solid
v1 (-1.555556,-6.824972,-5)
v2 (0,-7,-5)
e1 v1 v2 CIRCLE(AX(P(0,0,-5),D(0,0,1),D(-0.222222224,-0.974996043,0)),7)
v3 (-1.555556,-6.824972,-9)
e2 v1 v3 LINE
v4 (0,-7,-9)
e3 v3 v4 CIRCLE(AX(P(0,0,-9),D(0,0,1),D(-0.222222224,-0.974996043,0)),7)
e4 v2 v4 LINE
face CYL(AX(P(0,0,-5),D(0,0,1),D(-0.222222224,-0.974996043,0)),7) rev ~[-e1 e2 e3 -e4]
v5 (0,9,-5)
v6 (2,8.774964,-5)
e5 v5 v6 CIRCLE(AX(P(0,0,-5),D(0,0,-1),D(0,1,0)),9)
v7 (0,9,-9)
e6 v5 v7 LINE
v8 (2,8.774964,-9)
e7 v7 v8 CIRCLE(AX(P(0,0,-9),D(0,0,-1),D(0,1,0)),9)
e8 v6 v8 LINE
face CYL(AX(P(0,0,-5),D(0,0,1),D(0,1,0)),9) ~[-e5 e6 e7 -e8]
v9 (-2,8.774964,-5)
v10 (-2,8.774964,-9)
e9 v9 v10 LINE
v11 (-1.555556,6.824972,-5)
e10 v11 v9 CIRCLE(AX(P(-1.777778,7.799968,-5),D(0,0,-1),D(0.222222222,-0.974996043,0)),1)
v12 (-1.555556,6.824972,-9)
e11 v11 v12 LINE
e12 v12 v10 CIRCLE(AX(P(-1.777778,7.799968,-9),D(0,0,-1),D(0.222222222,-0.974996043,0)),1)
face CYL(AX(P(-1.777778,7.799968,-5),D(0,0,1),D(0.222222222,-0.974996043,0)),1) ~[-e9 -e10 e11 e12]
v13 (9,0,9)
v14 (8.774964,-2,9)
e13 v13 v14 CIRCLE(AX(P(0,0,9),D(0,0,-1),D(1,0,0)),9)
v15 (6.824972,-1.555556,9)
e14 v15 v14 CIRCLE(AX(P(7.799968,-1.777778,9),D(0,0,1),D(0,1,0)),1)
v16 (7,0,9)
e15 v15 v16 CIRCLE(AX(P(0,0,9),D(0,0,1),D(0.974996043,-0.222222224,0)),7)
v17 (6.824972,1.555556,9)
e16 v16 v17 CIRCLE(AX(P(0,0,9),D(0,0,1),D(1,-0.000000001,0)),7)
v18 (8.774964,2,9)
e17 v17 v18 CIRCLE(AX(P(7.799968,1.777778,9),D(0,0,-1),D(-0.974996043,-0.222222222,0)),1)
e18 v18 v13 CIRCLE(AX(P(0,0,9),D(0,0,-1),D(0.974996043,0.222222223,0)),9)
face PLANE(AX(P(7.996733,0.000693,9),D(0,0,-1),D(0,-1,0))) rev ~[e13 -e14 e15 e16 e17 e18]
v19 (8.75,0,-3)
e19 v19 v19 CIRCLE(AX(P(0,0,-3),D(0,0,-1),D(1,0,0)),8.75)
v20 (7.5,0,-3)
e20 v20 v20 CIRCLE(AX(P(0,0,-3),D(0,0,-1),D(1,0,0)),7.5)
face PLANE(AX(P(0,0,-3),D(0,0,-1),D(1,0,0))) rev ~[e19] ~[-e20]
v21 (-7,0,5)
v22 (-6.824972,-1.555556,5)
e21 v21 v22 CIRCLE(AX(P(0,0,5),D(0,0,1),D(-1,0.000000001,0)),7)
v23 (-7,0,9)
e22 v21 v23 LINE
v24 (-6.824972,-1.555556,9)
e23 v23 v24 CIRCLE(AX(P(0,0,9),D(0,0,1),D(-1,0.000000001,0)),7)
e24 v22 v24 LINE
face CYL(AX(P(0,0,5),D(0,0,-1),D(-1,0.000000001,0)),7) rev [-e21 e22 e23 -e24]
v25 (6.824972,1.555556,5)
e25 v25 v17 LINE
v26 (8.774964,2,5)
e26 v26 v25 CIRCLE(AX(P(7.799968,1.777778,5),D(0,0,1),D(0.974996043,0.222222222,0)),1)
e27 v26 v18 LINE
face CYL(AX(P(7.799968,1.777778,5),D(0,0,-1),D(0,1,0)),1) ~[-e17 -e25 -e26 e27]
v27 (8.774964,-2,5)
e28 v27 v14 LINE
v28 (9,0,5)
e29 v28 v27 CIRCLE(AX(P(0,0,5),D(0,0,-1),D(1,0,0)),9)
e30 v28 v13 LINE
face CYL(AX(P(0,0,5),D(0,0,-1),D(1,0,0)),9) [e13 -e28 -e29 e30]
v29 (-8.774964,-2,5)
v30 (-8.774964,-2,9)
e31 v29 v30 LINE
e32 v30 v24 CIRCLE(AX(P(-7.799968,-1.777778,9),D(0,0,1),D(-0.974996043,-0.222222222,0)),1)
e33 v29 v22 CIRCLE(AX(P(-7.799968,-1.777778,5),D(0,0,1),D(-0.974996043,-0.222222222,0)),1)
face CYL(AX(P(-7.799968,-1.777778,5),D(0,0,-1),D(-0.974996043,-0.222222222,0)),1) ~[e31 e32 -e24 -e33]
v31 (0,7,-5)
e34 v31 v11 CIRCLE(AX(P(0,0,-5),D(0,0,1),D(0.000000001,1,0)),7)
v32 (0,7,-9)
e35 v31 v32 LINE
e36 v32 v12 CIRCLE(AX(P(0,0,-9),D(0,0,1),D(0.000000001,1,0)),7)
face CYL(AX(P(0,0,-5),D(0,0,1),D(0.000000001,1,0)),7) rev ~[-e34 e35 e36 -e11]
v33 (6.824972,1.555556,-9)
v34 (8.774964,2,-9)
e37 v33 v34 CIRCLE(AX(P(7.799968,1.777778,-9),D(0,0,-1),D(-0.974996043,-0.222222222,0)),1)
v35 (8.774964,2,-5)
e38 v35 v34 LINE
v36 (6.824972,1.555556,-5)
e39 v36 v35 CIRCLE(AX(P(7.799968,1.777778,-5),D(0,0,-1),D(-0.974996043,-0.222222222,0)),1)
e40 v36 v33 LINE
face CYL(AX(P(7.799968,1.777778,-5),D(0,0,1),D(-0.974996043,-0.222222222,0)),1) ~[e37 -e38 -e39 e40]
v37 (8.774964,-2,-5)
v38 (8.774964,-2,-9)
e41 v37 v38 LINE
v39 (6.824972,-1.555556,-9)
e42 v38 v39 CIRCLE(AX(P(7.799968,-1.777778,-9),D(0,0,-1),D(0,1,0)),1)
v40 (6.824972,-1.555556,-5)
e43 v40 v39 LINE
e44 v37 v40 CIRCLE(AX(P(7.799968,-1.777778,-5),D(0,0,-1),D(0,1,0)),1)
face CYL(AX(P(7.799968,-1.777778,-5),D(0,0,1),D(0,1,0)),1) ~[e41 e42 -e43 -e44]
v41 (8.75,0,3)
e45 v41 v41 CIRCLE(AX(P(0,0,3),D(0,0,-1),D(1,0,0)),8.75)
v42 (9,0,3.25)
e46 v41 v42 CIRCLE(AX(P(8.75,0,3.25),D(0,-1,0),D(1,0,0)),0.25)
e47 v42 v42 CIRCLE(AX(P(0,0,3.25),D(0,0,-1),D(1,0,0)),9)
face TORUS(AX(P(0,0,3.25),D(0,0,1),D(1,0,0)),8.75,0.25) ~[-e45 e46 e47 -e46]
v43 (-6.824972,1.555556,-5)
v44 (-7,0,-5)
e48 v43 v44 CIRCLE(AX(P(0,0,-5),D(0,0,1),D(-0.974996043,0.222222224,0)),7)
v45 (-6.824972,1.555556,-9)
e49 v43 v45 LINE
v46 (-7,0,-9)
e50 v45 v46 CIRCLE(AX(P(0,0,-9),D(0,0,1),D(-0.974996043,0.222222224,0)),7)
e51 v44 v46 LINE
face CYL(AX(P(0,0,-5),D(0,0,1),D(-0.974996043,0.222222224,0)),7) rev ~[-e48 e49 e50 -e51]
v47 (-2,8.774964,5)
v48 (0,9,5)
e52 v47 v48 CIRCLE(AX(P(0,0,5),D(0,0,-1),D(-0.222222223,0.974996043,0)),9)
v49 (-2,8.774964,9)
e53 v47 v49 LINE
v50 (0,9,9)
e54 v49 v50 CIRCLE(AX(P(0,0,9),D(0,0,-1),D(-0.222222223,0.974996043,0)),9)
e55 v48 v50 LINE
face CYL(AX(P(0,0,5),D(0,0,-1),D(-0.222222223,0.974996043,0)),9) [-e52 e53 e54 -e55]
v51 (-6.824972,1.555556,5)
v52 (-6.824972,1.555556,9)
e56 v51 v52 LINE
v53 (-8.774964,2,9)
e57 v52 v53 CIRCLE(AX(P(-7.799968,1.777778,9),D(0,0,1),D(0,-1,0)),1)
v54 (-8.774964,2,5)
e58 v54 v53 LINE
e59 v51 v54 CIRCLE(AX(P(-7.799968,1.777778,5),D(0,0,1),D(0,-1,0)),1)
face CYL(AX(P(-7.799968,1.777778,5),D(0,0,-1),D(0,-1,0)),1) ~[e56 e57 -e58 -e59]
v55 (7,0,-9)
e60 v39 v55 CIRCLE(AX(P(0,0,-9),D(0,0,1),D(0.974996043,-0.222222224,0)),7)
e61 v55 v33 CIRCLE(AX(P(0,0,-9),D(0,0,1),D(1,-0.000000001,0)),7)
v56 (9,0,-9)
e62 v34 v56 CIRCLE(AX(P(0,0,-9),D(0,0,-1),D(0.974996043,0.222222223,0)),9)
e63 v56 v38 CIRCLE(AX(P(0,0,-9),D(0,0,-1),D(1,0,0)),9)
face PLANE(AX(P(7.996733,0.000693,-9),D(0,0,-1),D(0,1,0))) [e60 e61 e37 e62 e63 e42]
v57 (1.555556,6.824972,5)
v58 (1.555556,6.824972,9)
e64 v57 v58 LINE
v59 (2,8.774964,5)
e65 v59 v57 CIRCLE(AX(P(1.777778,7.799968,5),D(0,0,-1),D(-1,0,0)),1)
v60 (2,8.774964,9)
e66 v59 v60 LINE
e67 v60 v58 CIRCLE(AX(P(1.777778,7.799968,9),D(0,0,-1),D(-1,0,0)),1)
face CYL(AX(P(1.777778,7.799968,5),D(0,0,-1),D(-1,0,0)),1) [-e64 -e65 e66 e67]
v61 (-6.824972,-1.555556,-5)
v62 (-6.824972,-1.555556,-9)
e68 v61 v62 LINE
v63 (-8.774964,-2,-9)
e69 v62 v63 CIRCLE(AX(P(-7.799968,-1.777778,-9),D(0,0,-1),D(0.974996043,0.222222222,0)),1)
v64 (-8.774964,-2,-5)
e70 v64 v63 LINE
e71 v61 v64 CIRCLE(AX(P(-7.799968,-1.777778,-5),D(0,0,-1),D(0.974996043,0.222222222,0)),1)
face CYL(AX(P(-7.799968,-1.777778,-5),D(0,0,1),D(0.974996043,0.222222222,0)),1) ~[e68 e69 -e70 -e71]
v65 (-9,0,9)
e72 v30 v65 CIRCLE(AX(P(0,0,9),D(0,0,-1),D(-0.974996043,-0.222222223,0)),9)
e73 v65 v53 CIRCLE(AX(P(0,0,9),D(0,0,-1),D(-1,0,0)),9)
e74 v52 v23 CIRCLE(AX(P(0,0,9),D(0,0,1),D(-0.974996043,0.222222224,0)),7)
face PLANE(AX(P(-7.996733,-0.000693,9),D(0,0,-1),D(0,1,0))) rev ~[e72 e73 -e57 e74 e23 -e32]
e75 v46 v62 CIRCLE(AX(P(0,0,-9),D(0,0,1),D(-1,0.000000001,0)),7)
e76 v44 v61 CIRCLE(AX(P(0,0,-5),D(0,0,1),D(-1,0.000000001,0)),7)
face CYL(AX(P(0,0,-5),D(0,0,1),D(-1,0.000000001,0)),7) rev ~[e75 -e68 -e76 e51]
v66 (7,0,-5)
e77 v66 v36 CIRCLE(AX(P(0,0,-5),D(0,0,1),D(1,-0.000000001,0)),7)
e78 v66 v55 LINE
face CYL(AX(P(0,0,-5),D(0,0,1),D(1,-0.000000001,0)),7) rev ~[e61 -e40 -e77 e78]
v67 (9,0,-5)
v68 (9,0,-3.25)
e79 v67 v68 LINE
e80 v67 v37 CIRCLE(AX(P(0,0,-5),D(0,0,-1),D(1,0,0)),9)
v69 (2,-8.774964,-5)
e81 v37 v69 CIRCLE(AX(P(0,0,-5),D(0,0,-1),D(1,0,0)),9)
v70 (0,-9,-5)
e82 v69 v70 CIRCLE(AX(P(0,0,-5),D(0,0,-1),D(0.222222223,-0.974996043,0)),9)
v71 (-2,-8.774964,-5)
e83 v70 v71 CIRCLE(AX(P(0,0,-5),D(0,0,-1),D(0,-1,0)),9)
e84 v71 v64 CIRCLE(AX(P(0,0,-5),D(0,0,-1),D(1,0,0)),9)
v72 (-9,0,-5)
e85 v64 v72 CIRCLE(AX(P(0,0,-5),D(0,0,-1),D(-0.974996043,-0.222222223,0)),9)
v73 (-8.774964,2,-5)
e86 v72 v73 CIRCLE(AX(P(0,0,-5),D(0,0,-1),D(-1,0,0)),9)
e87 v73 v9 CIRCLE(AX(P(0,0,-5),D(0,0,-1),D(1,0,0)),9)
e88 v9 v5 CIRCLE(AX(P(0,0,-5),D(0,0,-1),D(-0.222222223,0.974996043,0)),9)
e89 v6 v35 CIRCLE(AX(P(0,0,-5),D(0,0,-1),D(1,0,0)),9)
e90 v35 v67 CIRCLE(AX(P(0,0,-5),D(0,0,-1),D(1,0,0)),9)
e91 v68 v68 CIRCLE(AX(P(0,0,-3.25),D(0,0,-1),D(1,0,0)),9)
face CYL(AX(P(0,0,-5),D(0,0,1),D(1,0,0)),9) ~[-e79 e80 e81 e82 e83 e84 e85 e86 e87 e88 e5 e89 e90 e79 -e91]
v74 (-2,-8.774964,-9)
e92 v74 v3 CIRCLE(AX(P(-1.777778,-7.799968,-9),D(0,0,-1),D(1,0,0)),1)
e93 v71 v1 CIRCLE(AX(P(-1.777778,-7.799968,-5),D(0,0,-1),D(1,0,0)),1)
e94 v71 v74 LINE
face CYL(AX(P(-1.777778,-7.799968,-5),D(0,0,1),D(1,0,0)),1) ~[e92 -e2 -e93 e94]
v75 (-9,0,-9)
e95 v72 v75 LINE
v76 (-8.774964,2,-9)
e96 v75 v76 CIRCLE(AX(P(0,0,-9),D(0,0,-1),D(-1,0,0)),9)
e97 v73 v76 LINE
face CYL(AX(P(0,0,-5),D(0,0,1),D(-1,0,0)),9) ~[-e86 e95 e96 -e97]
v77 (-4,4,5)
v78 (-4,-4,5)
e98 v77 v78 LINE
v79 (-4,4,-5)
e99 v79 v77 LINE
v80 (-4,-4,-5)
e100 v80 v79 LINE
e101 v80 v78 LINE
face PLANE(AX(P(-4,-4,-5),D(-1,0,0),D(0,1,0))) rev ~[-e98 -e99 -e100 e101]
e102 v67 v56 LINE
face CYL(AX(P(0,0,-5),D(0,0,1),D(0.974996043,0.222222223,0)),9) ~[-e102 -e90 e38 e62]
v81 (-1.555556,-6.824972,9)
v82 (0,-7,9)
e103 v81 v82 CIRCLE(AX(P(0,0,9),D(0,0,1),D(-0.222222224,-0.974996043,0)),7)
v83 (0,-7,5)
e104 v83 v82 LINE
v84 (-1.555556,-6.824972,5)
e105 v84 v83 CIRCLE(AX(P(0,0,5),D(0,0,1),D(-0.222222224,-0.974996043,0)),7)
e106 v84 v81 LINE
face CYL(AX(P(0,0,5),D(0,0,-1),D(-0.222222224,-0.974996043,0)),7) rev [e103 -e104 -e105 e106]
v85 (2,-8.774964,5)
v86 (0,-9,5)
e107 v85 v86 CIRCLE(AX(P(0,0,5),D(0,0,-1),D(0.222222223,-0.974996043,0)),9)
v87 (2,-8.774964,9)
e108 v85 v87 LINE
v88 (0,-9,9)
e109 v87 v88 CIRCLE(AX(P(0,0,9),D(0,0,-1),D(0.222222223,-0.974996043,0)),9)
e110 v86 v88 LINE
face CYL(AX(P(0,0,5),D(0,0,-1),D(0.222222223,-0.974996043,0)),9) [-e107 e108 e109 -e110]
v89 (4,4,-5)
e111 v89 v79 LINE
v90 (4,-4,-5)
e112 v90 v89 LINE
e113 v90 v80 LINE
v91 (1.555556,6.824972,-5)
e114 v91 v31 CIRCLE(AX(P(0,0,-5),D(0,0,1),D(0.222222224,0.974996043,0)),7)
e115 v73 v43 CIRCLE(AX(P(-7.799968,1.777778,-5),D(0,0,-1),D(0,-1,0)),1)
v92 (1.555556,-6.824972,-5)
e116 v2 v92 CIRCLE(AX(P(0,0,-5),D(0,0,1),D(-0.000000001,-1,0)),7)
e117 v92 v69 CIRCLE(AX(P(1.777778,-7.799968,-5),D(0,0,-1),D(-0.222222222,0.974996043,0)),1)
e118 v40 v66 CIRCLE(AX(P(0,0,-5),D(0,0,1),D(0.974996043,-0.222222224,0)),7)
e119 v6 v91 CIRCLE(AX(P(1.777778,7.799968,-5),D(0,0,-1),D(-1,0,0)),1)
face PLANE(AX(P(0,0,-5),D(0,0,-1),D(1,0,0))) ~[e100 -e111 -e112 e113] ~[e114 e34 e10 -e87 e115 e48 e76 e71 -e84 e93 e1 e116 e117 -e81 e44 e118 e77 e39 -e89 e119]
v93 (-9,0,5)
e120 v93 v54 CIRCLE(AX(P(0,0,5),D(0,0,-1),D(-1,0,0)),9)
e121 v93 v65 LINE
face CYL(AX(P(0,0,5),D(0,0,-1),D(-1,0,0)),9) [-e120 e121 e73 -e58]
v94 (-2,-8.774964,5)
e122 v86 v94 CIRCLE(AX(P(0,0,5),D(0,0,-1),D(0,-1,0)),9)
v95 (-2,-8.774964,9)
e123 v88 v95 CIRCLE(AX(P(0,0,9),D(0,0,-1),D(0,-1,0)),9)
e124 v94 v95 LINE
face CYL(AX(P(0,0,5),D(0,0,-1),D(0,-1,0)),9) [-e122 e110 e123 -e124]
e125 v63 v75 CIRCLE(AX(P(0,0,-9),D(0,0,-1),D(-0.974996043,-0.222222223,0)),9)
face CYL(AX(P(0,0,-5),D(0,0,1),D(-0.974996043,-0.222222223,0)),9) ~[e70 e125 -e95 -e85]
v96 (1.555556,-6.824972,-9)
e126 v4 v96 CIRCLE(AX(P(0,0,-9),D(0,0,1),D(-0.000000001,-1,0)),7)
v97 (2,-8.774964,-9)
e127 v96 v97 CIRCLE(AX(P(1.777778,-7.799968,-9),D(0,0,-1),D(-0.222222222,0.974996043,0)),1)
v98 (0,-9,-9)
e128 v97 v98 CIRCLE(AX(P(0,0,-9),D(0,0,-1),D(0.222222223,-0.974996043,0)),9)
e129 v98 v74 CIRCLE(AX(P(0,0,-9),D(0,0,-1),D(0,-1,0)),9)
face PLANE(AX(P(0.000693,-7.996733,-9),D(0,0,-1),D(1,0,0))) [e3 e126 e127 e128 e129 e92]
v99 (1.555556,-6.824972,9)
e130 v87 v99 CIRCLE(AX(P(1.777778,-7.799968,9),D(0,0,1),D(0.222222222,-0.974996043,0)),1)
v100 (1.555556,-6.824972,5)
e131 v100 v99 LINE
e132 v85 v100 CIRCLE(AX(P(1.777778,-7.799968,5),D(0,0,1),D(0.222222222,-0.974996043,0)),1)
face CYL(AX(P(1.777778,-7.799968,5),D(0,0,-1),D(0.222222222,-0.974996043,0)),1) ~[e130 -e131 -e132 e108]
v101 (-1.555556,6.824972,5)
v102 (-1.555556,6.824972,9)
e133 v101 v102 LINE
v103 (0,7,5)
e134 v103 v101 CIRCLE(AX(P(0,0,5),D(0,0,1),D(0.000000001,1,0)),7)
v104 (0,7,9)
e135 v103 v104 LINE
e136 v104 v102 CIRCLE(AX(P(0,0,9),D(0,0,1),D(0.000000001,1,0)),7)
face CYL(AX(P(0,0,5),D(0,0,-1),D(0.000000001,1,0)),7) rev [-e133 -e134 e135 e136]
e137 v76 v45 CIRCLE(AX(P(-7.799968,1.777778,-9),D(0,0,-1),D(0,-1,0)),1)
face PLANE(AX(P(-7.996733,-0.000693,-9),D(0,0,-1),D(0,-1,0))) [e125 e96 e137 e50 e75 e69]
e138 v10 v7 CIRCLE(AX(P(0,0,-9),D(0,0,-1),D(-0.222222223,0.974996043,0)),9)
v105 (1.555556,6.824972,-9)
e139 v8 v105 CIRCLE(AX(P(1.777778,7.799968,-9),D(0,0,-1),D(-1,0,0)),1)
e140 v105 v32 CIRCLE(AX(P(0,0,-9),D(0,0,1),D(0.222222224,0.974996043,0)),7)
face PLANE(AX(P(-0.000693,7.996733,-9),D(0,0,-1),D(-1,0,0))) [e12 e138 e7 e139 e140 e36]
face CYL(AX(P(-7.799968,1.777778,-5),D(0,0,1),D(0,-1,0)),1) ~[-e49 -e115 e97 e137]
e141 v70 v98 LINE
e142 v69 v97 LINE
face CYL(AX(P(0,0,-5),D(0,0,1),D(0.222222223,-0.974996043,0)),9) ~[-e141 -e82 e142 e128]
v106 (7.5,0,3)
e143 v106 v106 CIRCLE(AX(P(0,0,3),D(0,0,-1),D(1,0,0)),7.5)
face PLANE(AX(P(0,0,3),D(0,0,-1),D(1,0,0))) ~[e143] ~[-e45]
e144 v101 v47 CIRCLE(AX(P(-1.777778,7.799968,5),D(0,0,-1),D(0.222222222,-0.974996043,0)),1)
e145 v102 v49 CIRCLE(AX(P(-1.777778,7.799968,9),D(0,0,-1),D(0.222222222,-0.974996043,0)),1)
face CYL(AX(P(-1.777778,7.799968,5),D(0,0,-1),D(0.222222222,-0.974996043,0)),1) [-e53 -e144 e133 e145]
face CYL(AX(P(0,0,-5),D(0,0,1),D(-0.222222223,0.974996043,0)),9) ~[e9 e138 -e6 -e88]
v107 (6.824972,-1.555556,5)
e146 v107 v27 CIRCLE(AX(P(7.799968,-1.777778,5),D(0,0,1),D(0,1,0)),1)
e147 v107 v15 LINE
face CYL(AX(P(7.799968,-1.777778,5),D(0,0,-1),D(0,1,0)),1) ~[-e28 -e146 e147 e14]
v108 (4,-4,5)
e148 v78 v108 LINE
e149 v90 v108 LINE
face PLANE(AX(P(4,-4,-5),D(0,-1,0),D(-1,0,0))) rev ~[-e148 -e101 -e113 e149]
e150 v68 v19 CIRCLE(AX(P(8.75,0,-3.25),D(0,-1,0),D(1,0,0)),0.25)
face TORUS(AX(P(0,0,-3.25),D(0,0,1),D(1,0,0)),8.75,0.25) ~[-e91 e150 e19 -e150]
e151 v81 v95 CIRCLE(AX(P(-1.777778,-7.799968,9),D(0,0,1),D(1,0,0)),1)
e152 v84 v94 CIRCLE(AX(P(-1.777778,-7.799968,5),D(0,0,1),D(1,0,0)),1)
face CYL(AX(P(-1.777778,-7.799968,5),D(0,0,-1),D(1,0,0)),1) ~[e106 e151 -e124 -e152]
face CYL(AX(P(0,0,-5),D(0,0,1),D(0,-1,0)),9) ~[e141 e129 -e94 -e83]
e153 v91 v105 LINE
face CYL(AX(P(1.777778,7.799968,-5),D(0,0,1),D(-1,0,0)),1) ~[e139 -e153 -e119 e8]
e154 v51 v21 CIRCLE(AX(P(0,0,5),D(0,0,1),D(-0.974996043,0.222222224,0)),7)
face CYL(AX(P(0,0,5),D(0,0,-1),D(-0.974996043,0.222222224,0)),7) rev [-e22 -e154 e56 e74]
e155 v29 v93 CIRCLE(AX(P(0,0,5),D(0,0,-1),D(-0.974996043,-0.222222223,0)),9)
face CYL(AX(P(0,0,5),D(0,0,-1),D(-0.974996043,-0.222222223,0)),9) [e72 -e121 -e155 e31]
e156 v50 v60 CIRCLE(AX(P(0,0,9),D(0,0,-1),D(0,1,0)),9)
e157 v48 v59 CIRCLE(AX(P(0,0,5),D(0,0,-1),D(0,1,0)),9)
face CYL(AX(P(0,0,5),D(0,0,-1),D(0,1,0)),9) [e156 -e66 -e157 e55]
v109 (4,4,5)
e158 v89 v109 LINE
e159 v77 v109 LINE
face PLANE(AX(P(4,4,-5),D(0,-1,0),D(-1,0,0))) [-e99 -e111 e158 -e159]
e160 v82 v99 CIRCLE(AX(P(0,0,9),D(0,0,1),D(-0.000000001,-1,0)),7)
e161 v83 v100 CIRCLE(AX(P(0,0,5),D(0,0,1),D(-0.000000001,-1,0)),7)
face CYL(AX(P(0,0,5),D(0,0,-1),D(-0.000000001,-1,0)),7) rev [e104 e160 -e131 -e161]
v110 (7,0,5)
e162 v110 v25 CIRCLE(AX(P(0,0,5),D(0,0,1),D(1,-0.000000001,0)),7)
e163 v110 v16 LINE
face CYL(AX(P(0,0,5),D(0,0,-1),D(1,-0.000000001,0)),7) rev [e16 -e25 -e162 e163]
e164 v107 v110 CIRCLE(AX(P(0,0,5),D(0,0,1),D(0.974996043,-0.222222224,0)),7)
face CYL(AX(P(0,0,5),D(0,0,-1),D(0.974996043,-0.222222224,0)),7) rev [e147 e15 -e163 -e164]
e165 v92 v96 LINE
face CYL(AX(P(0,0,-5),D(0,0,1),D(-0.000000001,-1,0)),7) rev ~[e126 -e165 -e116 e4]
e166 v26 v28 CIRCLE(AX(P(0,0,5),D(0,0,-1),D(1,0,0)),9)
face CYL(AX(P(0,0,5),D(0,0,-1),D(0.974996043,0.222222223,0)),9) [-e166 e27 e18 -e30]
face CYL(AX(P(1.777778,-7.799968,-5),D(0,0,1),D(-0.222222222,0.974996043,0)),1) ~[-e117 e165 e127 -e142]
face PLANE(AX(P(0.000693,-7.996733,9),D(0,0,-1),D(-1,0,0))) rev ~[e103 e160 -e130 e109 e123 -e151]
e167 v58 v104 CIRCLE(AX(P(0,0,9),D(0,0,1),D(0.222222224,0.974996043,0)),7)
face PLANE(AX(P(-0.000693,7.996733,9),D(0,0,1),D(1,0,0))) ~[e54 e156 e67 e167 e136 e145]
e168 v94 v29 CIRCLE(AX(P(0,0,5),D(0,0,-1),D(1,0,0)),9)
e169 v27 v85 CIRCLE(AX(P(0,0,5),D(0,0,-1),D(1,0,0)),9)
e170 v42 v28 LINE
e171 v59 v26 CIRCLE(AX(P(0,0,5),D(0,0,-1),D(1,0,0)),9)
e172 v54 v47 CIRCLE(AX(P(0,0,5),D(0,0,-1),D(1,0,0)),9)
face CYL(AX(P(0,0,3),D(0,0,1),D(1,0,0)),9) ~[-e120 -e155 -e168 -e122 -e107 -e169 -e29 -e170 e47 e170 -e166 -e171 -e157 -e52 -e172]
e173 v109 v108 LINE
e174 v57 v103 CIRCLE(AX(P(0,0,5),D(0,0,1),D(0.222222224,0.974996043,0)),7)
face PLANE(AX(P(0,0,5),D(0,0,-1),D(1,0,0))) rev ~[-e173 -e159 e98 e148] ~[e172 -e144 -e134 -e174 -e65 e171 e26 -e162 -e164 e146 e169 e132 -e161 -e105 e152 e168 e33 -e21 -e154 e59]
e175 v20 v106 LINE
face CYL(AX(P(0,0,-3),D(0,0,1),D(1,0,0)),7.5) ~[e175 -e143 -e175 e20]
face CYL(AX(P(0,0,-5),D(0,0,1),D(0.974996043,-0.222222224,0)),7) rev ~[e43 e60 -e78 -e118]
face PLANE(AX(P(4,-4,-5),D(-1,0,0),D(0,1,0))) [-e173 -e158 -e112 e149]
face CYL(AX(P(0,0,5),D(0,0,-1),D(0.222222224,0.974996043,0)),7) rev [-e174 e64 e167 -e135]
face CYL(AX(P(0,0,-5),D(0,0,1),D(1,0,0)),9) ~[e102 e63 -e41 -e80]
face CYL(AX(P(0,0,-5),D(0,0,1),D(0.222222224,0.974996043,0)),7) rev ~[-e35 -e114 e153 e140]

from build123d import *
from build123d.topology import SkipClean

# Parameters (mm, degrees)
FILLET2_R               = 0.25
SKETCH3_R               = 1
BOSS_EXTRUDE1_DEPTH     = 4
CIRPATTERN1_COUNT       = 4
MIRROR1_COPY_1_SKETCH_R = 1
MIRROR1_COPY_1_DEPTH    = 4
MIRROR1_COPY_2_SKETCH_R = 1
MIRROR1_COPY_2_DEPTH    = 4
MIRROR1_COPY_3_SKETCH_R = 1
MIRROR1_COPY_3_DEPTH    = 4
CUT_EXTRUDE1_REACH      = 20.921
SKETCH4_W               = 8
SKETCH4_H               = 8


with BuildPart() as part:
    # Sketch2 → Revolve1 (revolve)
    with BuildSketch(Plane(origin=(0, 0, 0), x_dir=(0, 0, -1), z_dir=(1, 0, 0)), mode=Mode.PRIVATE) as revolve1_sk:
        Polygon((-5, 9), (-5, 0), (0, 0), (0, 7.5), (-3, 7.5), (-3, 9), align=None)
        Polygon((0, 7.5), (0, 0), (5, 0), (5, 9), (3, 9), (3, 7.5), align=None)
    revolve(revolve1_sk.sketch.rotate(Axis((0, 0, 0), (0, 0, -1)), 90), axis=Axis((0, 0, 0), (0, 0, -1)))

    # Fillet2
    fillet2_edges = [part.edges().sort_by_distance(p)[0] for p in [
        (-9, 0, -3),
        (-9, 0, 3),
    ]]
    fillet(fillet2_edges, radius=FILLET2_R)

    # Sketch3 → Boss-Extrude1 (add)
    with BuildSketch(Plane(origin=(0, 0, -5), x_dir=(-1, 0, 0), z_dir=(0, 0, -1))):
        with BuildLine():
            ThreePointArc((2, 8.774964387), (1.006310219, 8.943564152), (0, 9))
            ThreePointArc((0, 9), (-1.006310219, 8.943564152), (-2, 8.774964387))
            ThreePointArc((-2, 8.774964387), (-1.154168213, 8.581704304), (-0.777777778, 7.799968344))
            ThreePointArc((-0.777777778, 7.799968344), (-0.996041818, 7.17635878), (-1.555555556, 6.824972301))
            ThreePointArc((-1.555555556, 6.824972301), (-0.782685726, 6.956105452), (0, 7))
            ThreePointArc((0, 7), (0.782685726, 6.956105452), (1.555555556, 6.824972301))
            ThreePointArc((1.555555556, 6.824972301), (0.802781735, 8.022190567), (2, 8.774964387))
        make_face()
        with Locations((-1.777777778, 7.799968344)):
            Circle(SKETCH3_R)
        with Locations((1.777777778, 7.799968344)):
            Circle(SKETCH3_R)
    boss_extrude1 = extrude(amount=BOSS_EXTRUDE1_DEPTH)

    # CirPattern1: Boss-Extrude1 ×4 about axis
    cirpattern1_axis = Axis((0, 0, 0), (0, 0, 1))
    for i in range(1, CIRPATTERN1_COUNT):
        add(boss_extrude1.rotate(cirpattern1_axis, i * 360 / CIRPATTERN1_COUNT))

    # Mirror1: Boss-Extrude1 across plane
    add(boss_extrude1.mirror(Plane.XY))

    # Mirror1 copy 1 sketch → Mirror1 copy 1 (add)
    with BuildSketch(Plane(origin=(0, 0, 5), x_dir=(0, -1, 0), z_dir=(0, 0, 1))):
        with BuildLine():
            ThreePointArc((2, -8.774964387), (1.006310219, -8.943564152), (0, -9))
            ThreePointArc((0, -9), (-1.006310219, -8.943564152), (-2, -8.774964387))
            ThreePointArc((-2, -8.774964387), (-1.154168213, -8.581704304), (-0.777777778, -7.799968344))
            ThreePointArc((-0.777777778, -7.799968344), (-0.996041818, -7.17635878), (-1.555555556, -6.824972301))
            ThreePointArc((-1.555555556, -6.824972301), (-0.782685726, -6.956105452), (0, -7))
            ThreePointArc((0, -7), (0.782685726, -6.956105452), (1.555555556, -6.824972301))
            ThreePointArc((1.555555556, -6.824972301), (0.802781735, -8.022190567), (2, -8.774964387))
        make_face()
        with Locations((-1.777777778, -7.799968344)):
            Circle(MIRROR1_COPY_1_SKETCH_R)
        with Locations((1.777777778, -7.799968344)):
            Circle(MIRROR1_COPY_1_SKETCH_R)
    extrude(amount=MIRROR1_COPY_1_DEPTH)

    # Mirror1 copy 2 sketch → Mirror1 copy 2 (add)
    with BuildSketch(Plane.XY.offset(5)):
        with BuildLine():
            ThreePointArc((2, -8.774964387), (1.006310219, -8.943564152), (0, -9))
            ThreePointArc((0, -9), (-1.006310219, -8.943564152), (-2, -8.774964387))
            ThreePointArc((-2, -8.774964387), (-1.154168213, -8.581704304), (-0.777777778, -7.799968344))
            ThreePointArc((-0.777777778, -7.799968344), (-0.996041818, -7.17635878), (-1.555555556, -6.824972301))
            ThreePointArc((-1.555555556, -6.824972301), (-0.782685726, -6.956105452), (0, -7))
            ThreePointArc((0, -7), (0.782685726, -6.956105452), (1.555555556, -6.824972301))
            ThreePointArc((1.555555556, -6.824972301), (0.802781735, -8.022190567), (2, -8.774964387))
        make_face()
        with Locations((-1.777777778, -7.799968344)):
            Circle(MIRROR1_COPY_2_SKETCH_R)
        with Locations((1.777777778, -7.799968344)):
            Circle(MIRROR1_COPY_2_SKETCH_R)
    extrude(amount=MIRROR1_COPY_2_DEPTH)

    # Mirror1 copy 3 sketch → Mirror1 copy 3 (add)
    with SkipClean():  # the faces are left unmerged after this step: merging them gives an invalid solid
        with BuildSketch(Plane(origin=(0, 0, 5), x_dir=(0, 1, 0), z_dir=(0, 0, 1))):
            with BuildLine():
                ThreePointArc((2, -8.774964387), (1.006310219, -8.943564152), (0, -9))
                ThreePointArc((0, -9), (-1.006310219, -8.943564152), (-2, -8.774964387))
                ThreePointArc((-2, -8.774964387), (-1.154168213, -8.581704304), (-0.777777778, -7.799968344))
                ThreePointArc((-0.777777778, -7.799968344), (-0.996041818, -7.17635878), (-1.555555556, -6.824972301))
                ThreePointArc((-1.555555556, -6.824972301), (-0.782685726, -6.956105452), (0, -7))
                ThreePointArc((0, -7), (0.782685726, -6.956105452), (1.555555556, -6.824972301))
                ThreePointArc((1.555555556, -6.824972301), (0.802781735, -8.022190567), (2, -8.774964387))
            make_face()
            with Locations((-1.777777778, -7.799968344)):
                Circle(MIRROR1_COPY_3_SKETCH_R)
            with Locations((1.777777778, -7.799968344)):
                Circle(MIRROR1_COPY_3_SKETCH_R)
        extrude(amount=MIRROR1_COPY_3_DEPTH)

    # Sketch4 → Cut-Extrude1 (cut, up to next)
    with BuildSketch(Plane(origin=(0, 0, -5), x_dir=(-1, 0, 0), z_dir=(0, 0, -1)), mode=Mode.PRIVATE) as cut_extrude1_sk1:
        Rectangle(SKETCH4_W, SKETCH4_H)
    cut_extrude1_tool1 = extrude(cut_extrude1_sk1.sketch, amount=-CUT_EXTRUDE1_REACH, mode=Mode.PRIVATE) & part.part
    add(cut_extrude1_tool1.solids().sort_by_distance((0, 0, -5))[0], mode=Mode.SUBTRACT)


solid = part.part
